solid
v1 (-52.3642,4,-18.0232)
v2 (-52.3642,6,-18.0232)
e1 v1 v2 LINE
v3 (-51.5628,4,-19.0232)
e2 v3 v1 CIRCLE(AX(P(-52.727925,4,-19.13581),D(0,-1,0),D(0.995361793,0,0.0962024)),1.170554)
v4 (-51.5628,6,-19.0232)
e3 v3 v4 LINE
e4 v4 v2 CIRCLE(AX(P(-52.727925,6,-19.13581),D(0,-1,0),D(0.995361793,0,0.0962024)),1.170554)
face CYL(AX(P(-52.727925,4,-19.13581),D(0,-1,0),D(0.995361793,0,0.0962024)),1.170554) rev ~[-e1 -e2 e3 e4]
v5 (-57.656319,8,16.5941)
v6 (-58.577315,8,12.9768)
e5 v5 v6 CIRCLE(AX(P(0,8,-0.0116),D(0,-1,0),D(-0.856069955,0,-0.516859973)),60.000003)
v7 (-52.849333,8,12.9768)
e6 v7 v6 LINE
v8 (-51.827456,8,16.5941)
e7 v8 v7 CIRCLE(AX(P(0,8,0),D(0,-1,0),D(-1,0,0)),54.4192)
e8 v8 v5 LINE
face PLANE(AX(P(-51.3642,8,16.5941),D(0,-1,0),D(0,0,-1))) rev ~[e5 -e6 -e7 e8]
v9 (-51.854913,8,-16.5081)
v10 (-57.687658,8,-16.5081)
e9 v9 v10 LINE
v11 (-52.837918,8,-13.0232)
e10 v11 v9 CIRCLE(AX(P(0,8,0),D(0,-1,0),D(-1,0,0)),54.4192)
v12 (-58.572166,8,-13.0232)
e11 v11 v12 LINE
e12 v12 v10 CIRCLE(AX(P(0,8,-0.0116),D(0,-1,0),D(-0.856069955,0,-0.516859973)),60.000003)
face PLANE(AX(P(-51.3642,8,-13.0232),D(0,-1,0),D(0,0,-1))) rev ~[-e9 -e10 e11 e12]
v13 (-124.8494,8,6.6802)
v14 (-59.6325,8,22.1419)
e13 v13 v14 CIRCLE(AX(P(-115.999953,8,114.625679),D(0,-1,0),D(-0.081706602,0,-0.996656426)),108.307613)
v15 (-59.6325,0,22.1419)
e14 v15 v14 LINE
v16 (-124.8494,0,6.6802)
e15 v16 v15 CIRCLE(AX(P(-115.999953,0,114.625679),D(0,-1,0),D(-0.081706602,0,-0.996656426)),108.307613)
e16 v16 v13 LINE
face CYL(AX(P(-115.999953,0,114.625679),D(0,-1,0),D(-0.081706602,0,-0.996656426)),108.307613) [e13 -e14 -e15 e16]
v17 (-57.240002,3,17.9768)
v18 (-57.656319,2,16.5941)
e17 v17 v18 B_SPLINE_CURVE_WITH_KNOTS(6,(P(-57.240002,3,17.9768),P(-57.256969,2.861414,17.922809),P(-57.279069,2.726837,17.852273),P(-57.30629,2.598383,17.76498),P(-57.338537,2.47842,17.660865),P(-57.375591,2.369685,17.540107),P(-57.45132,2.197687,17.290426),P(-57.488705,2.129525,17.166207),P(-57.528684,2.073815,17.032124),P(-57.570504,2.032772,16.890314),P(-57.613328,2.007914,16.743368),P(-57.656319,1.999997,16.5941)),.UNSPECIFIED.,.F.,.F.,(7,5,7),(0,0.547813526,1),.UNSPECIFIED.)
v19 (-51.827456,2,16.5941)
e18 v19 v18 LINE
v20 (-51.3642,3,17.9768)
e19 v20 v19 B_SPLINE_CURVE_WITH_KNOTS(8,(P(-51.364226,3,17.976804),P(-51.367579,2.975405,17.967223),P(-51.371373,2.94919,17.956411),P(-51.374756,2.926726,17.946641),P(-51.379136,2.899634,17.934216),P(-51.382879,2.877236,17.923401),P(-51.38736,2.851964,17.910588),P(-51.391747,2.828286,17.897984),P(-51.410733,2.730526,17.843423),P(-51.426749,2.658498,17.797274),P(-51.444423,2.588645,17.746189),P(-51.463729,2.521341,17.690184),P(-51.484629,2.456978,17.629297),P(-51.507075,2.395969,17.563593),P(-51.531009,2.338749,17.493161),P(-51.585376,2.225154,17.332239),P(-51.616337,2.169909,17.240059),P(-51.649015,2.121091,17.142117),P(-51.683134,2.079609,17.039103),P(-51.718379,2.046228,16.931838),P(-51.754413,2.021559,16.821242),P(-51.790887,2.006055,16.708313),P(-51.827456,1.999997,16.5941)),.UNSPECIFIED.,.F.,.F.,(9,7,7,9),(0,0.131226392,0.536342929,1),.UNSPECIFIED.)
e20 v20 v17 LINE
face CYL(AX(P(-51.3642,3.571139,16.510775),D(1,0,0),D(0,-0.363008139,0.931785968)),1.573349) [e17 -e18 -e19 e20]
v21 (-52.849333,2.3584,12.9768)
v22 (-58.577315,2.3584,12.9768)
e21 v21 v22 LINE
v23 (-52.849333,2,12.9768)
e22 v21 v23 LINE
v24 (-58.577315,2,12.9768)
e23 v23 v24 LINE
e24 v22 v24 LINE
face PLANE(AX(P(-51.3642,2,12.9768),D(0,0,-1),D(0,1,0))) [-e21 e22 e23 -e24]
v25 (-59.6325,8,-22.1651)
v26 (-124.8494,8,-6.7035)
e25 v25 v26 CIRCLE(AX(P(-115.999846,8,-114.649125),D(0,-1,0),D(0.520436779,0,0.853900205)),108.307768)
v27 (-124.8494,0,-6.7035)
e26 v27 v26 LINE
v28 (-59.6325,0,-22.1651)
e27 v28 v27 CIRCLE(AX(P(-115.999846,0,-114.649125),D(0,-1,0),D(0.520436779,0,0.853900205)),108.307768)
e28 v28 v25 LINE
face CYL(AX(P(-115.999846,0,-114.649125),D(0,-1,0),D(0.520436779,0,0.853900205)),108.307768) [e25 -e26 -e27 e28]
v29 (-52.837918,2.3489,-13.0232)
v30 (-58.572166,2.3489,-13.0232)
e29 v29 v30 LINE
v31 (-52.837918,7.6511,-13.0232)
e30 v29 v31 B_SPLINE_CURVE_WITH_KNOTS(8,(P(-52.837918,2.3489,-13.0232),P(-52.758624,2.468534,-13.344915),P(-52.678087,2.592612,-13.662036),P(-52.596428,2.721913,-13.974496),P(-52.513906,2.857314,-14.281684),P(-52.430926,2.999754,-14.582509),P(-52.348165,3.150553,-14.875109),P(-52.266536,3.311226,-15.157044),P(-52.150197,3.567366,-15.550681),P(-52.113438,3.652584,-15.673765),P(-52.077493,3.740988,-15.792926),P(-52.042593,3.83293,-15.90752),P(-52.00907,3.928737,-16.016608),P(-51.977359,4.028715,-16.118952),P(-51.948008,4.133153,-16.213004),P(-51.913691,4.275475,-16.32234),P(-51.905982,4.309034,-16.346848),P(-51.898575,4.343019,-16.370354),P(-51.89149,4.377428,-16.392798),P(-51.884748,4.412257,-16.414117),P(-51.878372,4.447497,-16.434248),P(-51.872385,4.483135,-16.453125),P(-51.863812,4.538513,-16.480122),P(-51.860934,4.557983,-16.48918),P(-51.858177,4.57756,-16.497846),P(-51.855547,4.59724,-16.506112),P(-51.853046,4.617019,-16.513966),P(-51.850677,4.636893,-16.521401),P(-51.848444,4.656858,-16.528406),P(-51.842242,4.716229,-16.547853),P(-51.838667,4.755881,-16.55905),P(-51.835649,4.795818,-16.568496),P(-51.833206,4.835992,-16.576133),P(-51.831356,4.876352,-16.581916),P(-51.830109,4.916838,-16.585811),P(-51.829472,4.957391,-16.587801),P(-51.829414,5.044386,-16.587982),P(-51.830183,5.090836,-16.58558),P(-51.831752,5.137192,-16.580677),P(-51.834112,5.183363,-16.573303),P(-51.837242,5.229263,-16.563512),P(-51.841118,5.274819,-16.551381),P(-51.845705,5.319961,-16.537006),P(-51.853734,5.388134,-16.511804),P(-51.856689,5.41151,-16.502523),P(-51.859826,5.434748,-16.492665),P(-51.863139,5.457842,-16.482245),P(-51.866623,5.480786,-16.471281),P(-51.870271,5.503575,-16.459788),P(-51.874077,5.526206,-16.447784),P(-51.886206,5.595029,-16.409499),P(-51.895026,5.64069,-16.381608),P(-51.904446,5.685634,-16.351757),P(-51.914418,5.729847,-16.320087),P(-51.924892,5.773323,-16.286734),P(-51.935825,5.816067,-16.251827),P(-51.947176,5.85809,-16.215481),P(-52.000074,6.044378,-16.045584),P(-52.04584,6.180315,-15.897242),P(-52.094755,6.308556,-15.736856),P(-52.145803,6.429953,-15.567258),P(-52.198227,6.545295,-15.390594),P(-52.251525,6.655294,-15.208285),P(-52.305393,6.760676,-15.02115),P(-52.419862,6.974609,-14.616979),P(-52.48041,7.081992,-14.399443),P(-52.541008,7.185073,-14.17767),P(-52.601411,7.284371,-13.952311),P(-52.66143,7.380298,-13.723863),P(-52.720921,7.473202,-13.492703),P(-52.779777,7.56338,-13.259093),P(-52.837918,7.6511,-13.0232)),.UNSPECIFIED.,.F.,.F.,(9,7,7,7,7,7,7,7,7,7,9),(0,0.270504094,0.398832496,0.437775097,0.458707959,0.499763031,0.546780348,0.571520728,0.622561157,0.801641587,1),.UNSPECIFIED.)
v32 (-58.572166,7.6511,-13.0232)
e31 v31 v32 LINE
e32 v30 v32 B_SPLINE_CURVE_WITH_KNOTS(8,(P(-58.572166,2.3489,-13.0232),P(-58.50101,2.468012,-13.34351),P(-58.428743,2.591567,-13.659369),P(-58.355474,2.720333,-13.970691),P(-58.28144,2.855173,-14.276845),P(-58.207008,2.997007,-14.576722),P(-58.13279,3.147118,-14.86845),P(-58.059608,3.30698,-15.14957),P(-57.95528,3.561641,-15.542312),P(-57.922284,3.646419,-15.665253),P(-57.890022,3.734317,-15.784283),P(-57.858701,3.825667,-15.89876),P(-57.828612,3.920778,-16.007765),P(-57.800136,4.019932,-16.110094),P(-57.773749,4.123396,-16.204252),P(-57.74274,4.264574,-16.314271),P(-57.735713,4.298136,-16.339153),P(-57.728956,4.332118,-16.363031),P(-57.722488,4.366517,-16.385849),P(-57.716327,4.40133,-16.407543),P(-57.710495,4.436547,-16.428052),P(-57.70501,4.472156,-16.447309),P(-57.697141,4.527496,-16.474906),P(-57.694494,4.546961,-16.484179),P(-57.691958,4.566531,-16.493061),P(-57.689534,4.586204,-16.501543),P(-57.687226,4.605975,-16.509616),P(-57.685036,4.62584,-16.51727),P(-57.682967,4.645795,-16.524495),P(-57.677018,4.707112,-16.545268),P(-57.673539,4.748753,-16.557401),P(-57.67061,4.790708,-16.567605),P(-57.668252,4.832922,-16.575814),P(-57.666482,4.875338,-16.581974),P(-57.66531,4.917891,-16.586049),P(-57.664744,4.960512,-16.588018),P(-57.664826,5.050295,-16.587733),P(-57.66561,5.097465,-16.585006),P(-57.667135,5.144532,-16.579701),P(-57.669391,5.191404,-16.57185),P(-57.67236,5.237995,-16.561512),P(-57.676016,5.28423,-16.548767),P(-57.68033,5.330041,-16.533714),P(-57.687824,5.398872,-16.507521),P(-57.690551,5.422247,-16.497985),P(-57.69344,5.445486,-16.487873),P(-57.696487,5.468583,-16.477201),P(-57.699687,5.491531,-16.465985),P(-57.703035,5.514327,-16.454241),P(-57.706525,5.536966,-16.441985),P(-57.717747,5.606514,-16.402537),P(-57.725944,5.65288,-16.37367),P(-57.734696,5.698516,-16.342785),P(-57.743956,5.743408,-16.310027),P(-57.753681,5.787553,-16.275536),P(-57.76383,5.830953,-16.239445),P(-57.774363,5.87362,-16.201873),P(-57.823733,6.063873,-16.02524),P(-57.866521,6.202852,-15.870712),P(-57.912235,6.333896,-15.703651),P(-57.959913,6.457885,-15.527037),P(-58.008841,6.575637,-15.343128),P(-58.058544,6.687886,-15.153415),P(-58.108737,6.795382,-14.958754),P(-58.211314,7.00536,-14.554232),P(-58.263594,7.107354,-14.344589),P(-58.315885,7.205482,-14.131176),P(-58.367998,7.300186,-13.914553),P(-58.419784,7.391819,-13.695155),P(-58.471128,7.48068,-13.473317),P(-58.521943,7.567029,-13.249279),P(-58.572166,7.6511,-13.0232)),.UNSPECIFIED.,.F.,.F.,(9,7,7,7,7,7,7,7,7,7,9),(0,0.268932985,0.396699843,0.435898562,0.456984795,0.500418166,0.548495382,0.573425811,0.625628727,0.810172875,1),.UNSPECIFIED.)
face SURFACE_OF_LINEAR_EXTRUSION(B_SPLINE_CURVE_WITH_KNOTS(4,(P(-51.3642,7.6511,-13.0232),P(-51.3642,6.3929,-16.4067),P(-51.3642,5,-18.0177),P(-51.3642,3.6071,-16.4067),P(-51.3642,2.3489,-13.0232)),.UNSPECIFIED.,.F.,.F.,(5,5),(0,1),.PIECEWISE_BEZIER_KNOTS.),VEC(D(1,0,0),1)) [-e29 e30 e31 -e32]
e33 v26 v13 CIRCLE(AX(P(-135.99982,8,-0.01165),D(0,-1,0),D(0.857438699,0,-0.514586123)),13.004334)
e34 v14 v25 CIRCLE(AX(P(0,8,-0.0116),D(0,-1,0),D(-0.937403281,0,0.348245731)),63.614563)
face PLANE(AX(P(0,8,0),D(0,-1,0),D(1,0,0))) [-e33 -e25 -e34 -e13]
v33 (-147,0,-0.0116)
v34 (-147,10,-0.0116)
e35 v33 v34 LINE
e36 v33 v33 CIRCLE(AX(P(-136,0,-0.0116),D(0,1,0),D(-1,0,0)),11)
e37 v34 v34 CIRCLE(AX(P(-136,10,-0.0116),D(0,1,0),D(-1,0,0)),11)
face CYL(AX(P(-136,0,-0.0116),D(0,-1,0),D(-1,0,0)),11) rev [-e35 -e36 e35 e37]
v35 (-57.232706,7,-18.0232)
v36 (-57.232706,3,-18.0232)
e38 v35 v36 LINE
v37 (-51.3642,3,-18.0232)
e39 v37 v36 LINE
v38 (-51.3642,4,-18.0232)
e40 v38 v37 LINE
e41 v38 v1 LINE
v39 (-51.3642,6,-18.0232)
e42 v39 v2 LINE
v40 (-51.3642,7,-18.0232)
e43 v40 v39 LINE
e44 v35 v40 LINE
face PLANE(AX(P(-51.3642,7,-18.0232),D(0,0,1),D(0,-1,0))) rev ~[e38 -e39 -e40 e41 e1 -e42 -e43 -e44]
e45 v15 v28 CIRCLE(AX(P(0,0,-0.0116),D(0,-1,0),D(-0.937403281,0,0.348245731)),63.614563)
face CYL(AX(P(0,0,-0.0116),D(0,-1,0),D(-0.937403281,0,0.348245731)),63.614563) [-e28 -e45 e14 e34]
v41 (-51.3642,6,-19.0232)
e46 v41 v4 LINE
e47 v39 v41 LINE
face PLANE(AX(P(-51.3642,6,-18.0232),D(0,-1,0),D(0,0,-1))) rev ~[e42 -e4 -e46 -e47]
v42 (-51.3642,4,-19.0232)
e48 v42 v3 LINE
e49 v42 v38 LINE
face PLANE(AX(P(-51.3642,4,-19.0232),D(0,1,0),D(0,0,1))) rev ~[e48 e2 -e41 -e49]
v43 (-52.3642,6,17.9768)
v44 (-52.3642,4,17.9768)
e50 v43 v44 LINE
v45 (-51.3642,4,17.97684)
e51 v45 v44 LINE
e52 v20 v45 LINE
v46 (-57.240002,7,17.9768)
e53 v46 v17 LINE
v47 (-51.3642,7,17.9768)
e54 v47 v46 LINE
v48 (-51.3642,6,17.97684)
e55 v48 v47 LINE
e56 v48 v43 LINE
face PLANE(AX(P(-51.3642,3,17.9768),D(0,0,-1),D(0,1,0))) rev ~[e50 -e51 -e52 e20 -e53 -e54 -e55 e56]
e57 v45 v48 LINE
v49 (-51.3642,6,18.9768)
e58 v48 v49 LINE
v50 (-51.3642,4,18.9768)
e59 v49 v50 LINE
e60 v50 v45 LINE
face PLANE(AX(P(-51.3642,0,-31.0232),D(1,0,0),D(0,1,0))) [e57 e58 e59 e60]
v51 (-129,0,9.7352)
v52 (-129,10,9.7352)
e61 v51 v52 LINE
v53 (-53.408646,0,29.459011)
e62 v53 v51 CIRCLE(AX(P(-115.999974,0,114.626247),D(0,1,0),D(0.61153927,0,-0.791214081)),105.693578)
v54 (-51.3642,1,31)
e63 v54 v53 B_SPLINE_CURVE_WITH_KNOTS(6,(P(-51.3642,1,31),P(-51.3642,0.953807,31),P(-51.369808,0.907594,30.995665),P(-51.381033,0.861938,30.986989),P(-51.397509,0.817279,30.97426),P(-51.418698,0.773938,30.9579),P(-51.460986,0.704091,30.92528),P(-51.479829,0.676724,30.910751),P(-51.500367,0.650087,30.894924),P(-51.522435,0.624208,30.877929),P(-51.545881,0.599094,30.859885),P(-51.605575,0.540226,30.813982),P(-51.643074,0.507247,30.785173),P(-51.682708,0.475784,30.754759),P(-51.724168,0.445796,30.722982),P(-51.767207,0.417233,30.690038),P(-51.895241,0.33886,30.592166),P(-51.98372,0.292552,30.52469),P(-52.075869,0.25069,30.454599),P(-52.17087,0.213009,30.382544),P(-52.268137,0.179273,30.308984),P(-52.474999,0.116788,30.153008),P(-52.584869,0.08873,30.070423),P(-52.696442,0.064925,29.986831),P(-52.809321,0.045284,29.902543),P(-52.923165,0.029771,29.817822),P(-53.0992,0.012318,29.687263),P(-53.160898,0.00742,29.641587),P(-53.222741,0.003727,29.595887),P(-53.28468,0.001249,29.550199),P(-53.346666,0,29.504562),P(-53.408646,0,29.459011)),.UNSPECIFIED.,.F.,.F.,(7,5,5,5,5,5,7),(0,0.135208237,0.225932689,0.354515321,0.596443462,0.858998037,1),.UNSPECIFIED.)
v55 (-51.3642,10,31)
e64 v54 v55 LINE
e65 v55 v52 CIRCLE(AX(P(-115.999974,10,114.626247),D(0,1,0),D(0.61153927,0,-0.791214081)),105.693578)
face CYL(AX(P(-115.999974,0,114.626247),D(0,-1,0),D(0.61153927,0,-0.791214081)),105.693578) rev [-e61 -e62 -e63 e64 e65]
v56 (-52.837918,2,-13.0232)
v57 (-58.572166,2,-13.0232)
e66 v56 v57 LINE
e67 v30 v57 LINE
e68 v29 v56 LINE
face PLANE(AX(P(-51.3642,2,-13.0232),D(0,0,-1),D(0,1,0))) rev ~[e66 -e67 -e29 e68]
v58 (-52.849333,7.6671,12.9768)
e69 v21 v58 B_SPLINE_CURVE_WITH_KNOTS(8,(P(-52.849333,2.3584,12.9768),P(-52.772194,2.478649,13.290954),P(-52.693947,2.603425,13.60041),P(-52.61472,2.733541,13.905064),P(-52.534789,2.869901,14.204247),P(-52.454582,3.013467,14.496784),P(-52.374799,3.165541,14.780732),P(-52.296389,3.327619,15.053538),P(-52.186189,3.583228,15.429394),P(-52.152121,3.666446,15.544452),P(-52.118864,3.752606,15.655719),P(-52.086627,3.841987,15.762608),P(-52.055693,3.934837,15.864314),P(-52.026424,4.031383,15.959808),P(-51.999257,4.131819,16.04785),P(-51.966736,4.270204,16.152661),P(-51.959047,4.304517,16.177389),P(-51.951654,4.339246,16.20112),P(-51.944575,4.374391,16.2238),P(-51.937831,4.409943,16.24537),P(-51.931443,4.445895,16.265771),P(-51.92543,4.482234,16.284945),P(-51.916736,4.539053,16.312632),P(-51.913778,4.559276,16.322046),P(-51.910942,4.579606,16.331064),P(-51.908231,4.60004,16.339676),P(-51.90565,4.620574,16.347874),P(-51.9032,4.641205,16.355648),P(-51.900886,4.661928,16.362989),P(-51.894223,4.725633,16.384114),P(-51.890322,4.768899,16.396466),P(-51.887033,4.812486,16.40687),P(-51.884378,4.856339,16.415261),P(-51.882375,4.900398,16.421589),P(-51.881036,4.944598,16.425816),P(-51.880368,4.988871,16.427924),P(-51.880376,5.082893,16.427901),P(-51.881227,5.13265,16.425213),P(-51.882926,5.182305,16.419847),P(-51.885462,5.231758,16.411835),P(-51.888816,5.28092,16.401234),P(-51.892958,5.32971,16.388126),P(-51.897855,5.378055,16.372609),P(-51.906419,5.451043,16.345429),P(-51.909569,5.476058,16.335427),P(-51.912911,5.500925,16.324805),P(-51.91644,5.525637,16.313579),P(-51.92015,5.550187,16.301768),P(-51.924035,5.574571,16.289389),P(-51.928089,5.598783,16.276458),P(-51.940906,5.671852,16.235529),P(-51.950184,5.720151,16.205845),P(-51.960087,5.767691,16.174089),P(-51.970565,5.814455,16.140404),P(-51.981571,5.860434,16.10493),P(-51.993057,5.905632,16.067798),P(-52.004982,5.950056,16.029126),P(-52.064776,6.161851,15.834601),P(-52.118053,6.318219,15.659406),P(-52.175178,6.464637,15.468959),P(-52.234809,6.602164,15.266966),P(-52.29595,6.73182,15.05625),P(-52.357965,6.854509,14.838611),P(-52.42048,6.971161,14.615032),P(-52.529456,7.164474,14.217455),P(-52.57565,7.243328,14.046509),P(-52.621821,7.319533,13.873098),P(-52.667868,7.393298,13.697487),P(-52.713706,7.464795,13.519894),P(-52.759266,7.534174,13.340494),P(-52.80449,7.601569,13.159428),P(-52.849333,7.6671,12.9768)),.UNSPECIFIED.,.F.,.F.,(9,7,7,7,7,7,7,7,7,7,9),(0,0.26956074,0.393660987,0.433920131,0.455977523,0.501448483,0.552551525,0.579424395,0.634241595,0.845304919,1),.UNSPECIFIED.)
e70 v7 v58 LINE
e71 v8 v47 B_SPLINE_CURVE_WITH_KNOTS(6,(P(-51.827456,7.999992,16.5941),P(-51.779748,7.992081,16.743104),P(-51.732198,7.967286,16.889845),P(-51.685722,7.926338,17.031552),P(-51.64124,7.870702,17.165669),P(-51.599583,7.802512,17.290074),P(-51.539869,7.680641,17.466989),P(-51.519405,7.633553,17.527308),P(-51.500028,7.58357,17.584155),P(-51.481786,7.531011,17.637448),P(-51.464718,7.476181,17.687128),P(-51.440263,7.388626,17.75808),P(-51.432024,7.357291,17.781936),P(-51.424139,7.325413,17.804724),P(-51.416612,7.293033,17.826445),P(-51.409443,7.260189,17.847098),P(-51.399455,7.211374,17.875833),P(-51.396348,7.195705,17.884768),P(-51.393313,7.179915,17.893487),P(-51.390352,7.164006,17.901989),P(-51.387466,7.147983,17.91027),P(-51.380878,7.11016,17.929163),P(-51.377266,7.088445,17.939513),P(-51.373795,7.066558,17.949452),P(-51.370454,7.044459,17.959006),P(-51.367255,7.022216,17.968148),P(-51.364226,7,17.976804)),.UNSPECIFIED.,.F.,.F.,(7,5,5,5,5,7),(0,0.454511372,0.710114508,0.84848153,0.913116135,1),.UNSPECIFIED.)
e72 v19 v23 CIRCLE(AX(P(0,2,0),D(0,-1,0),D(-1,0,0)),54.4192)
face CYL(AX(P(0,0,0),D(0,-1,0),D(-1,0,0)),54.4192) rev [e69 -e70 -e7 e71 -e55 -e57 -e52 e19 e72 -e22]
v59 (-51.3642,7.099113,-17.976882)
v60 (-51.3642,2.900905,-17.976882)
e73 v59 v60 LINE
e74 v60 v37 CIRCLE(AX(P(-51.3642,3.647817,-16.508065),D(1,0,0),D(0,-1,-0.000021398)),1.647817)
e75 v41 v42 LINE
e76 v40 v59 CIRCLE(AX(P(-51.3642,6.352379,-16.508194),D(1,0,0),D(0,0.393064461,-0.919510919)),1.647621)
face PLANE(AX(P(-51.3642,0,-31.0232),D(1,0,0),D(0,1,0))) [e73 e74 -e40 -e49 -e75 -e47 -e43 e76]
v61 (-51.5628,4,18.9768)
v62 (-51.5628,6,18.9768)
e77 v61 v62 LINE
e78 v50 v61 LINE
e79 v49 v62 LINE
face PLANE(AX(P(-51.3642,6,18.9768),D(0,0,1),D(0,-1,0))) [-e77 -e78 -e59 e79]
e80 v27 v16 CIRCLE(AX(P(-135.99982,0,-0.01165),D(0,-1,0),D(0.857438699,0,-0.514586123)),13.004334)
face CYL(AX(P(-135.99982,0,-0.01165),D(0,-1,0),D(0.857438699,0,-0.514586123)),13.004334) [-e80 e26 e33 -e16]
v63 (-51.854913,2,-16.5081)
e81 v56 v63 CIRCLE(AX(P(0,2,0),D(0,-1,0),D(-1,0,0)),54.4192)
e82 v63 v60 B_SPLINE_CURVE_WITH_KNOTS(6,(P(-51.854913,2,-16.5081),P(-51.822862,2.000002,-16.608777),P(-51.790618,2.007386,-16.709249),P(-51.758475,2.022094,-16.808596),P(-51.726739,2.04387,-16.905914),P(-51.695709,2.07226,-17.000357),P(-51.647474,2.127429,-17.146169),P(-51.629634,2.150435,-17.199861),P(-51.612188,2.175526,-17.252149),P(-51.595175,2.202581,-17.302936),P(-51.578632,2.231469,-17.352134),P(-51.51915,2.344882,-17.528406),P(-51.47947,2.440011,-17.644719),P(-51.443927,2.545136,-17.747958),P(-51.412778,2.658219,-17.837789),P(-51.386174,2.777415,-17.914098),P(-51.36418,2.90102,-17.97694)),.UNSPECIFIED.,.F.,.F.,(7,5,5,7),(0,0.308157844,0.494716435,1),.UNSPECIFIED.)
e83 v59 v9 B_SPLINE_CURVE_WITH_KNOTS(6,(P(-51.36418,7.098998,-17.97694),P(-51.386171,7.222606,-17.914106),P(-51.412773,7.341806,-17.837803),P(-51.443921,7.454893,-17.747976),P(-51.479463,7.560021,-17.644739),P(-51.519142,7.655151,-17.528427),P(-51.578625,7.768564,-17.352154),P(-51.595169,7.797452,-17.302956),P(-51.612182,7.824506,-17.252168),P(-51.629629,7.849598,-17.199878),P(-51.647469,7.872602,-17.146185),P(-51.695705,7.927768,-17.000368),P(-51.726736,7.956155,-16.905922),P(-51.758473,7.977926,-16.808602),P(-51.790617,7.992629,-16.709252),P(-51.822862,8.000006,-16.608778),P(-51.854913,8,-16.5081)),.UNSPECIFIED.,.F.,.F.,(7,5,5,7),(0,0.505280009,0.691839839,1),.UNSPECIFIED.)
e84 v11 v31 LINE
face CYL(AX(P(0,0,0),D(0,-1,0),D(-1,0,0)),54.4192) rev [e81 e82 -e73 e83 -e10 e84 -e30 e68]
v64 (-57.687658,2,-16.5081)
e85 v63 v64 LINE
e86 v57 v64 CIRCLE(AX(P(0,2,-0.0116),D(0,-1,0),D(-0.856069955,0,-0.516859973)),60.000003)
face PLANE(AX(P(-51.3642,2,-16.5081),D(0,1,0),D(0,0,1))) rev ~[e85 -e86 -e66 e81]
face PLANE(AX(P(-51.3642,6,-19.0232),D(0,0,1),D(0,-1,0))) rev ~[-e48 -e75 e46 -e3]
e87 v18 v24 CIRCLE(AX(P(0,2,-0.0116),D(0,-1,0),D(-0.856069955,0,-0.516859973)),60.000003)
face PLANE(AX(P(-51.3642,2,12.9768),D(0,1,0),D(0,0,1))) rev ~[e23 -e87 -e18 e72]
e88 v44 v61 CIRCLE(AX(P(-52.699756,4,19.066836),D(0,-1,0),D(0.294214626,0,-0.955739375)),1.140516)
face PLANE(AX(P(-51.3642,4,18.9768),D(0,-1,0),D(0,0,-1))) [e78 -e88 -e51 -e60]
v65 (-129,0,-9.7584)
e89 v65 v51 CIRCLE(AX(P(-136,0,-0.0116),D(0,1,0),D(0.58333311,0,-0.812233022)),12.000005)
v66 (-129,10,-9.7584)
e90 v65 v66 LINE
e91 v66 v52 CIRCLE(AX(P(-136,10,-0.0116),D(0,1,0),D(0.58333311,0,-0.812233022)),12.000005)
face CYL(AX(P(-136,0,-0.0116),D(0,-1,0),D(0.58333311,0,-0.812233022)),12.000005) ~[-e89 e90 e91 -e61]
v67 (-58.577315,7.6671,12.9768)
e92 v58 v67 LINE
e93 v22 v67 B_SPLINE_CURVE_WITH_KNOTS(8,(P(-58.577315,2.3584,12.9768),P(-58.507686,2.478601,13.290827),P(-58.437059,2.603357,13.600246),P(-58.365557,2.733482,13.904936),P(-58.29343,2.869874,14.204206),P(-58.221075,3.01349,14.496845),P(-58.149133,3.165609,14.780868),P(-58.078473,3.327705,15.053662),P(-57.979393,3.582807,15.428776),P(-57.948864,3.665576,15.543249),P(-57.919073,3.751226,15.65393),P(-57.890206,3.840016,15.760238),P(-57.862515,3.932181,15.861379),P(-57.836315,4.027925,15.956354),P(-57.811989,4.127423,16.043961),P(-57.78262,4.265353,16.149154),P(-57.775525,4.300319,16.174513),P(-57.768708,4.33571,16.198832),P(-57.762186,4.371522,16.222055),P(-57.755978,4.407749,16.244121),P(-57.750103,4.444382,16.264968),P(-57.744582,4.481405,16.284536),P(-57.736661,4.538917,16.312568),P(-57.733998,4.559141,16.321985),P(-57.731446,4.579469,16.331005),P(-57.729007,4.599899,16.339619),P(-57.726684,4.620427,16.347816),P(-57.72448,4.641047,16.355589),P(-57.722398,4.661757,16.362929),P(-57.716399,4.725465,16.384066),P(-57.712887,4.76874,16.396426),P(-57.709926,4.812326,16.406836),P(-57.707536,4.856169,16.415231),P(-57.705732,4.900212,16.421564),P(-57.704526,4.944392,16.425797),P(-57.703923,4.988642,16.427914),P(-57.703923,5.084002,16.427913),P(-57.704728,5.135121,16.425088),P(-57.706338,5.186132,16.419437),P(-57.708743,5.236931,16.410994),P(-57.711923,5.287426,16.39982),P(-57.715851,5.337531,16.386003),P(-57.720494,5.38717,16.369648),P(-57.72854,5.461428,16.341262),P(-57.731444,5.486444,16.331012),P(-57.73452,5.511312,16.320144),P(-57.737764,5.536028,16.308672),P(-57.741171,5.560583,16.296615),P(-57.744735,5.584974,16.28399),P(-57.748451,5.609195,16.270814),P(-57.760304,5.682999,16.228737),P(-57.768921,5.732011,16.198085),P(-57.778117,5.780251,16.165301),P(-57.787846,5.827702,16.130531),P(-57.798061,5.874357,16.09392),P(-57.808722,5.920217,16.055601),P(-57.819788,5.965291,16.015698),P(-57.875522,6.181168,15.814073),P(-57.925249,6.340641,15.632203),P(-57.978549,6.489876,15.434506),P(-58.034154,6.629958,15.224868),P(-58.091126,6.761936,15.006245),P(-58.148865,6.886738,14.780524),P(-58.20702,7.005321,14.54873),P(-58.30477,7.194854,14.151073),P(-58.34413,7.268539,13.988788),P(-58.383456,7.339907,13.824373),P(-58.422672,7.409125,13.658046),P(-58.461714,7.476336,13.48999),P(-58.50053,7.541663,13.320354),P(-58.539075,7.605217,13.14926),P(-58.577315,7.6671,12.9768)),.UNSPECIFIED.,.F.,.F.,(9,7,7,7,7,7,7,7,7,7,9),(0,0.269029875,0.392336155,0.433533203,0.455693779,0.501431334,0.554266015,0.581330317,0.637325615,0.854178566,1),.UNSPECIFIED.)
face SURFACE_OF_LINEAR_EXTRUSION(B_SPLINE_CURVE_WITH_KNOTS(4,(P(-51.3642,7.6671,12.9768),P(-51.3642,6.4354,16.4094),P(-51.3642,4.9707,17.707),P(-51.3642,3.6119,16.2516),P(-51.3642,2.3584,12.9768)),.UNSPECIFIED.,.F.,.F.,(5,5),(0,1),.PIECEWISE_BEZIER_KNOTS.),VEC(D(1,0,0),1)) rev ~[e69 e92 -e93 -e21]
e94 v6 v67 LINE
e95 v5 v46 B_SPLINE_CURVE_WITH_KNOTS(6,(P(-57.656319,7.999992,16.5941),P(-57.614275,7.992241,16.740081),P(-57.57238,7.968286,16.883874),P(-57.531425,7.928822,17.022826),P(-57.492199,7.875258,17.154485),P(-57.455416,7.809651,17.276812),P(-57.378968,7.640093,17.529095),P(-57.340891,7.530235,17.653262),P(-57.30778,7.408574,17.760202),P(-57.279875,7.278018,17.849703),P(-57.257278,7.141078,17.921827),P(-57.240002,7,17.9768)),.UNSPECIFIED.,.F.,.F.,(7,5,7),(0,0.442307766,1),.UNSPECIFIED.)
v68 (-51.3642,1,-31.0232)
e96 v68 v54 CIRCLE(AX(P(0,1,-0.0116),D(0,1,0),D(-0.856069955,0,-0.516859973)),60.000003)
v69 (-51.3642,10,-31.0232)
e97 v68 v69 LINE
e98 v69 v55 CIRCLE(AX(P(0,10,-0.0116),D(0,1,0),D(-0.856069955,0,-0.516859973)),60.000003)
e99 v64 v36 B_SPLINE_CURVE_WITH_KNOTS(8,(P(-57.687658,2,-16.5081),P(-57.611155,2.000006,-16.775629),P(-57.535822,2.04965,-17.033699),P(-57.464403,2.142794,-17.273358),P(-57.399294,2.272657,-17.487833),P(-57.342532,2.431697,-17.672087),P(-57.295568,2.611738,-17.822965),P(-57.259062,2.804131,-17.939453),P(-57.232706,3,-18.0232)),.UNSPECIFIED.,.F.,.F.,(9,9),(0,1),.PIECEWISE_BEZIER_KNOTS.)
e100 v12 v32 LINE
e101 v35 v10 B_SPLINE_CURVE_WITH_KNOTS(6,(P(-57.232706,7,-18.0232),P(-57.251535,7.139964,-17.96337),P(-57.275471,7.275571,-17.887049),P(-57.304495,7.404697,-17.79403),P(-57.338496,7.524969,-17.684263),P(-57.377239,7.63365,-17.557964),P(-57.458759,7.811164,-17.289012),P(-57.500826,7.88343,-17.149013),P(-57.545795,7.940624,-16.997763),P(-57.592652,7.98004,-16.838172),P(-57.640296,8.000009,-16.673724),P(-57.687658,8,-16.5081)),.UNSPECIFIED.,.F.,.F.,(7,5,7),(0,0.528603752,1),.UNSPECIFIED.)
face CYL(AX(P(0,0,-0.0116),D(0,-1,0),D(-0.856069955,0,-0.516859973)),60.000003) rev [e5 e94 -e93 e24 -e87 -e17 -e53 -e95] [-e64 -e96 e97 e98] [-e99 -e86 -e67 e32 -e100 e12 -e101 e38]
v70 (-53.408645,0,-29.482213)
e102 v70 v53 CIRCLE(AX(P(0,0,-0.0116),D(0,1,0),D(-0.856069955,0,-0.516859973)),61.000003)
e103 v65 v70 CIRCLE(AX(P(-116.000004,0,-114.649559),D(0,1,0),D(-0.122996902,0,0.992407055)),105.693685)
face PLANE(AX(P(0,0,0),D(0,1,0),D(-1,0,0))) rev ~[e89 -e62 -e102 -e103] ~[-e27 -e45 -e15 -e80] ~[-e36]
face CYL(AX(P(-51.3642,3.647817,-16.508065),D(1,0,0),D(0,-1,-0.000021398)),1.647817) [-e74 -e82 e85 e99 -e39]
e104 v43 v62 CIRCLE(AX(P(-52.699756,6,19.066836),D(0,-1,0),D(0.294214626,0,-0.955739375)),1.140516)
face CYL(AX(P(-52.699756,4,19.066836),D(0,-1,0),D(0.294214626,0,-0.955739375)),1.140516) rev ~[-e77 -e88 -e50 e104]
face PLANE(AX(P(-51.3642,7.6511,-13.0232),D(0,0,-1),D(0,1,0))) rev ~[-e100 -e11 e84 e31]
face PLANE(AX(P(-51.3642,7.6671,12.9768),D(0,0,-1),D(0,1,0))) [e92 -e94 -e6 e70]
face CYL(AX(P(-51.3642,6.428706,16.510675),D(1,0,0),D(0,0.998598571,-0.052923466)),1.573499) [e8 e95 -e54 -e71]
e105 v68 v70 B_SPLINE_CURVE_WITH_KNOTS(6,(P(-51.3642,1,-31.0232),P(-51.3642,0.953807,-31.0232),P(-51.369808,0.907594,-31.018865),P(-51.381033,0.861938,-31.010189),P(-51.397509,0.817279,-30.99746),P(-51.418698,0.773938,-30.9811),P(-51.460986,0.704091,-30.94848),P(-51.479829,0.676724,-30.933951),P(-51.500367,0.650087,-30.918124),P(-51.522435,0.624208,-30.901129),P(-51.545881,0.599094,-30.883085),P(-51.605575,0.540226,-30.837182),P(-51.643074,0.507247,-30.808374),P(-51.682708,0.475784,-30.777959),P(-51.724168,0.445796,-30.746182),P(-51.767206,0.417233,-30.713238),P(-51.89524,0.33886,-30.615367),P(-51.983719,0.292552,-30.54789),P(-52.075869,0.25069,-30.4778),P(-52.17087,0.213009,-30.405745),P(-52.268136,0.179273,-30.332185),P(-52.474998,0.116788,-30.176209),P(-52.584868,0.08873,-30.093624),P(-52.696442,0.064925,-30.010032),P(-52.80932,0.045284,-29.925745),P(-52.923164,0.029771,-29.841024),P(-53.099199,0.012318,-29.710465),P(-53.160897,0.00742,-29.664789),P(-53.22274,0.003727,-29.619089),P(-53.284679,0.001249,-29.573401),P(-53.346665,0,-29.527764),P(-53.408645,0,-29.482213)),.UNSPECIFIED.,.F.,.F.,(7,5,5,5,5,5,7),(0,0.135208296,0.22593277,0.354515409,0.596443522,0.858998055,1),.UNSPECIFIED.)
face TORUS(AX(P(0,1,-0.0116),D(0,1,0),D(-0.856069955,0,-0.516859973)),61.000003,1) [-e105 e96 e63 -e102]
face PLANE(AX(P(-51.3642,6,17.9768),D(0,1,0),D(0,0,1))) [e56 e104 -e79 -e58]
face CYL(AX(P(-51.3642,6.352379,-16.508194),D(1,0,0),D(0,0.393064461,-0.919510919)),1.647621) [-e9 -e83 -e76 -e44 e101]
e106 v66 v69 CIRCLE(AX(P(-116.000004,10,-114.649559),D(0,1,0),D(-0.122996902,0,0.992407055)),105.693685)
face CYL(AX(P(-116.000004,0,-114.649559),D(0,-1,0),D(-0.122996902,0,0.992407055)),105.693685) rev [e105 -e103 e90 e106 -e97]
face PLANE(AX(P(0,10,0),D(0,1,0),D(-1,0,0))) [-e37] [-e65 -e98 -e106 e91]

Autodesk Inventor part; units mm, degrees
ref_plane "YZ Plane" through (0, 0, 0) normal (1, 0, 0) x (0, 1, 0)
ref_plane "XZ Plane" through (0, 0, 0) normal (0, 1, 0) x (-1, 0, 0)
ref_plane "XY Plane" through (0, 0, 0) normal (0, 0, 1) x (1, 0, 0)
sketch "Esquisse1" plane through (0, 0, 0) normal (0, 1, 0) x (-1, 0, 0)
  arc A0 (51.3642, -31.0232) -> (51.3642, 31) centre (0, -0.0116) ccw
  arc A1 (129, -9.7584) -> (129, 9.7352) centre (136, -0.0116) ccw
  arc A2 (51.3642, 31) -> (129, 9.7352) centre (116, 114.6263) ccw
  line L0 (64, -0.0116) -> (129, -0.0116) construction
  arc A3 (129, -9.7584) -> (129, 9.7352) centre (136, -0.0116) ccw
  arc A4 (129, -9.7584) -> (51.3642, -31.0232) centre (116, -114.6495) ccw
  circle A5 centre (136, -0.0116) radius 11
  point P0 (0, 0)
  dimension "d0" = 120
  dimension "d1" = 24
  dimension "d2" = 22
extrude "Extrusion1" add sketch "Esquisse1" along normal blind 10
ref_plane "Plan de construction1" through (-51.3642, 0, -31.0232) normal (1, 0, 0) x (0, 1, 0)
sketch "Esquisse2" plane through (-51.3642, 0, -31.0232) normal (1, 0, 0) x (0, 1, 0)
  line L0 (5, 64.5652) -> (5, -0.1304) construction
  line L1 (3, 49) -> (7, 49)
  line L2 (8, 47.6173) -> (8, 44)
  line L3 (2, 44) -> (2, 47.6173)
  line L4 (2, 49) -> (8, 43) construction
  line L5 (8, 49) -> (2, 43) construction
  line L6 (8, 18) -> (8, 14.5151)
  line L7 (7, 13) -> (3, 13)
  line L8 (2, 14.5151) -> (2, 18)
  line L9 (2, 19) -> (8, 13) construction
  line L10 (8, 19) -> (2, 13) construction
  line L11 (10, 62.0232) -> (10, 0) projected
  line L12 (0, 0) -> (10, 0) projected
  line L13 (0, 62.0232) -> (10, 62.0232) projected
  spline S0 degree 4 poles (7.6671, 44) (6.4354, 47.4326) (4.9707, 48.7302) (3.6119, 47.2748) (2.3584, 44) knots 0 0 0 0 0 1 1 1 1 1
  spline S1 degree 4 poles (7.6511, 18) (6.3929, 14.6165) (5, 13.0055) (3.6071, 14.6165) (2.3489, 18) knots 0 0 0 0 0 1 1 1 1 1
  arc A0 (8, 47.4506) -> (7, 49) centre (6.4288, 47.5339) ccw
  arc A1 (3, 49) -> (2, 47.4506) centre (3.5712, 47.5339) ccw
  arc A2 (7, 13) -> (8, 14.5151) centre (6.3523, 14.5151) ccw
  arc A3 (2, 14.5151) -> (3, 13) centre (3.6477, 14.5151) ccw
  line L14 (2, 18) -> (2.3489, 18)
  line L15 (7.6511, 18) -> (8, 18)
  line L16 (2.776, 16.8516) -> (1.9218, 19.1484) construction
  arc A4 (2.0268, 18.9251) -> (2.7095, 17.0892) centre (24.2353, 26.1386) ccw construction
  line L17 (8.0782, 19.1484) -> (7.224, 16.8516) construction
  arc A5 (7.2905, 17.0892) -> (7.9732, 18.9251) centre (-14.2353, 26.1386) ccw construction
  line L18 (2, 44) -> (2.3584, 44)
  line L19 (7.6671, 44) -> (8, 44)
  line L20 (2.7888, 45.1243) -> (1.9281, 42.8757) construction
  arc A6 (2.7221, 44.891) -> (2.0343, 43.0939) centre (22.8073, 36.1728) ccw construction
  line L21 (8.0877, 42.828) -> (7.2466, 45.172) construction
  arc A7 (7.9784, 43.0548) -> (7.3065, 44.9274) centre (-10.0817, 37.6313) ccw construction
  point P0 (0, 31.0232)
  point P1 (5, 46)
  point P2 (5, 16)
  dimension "d10" = 2
  dimension "d11" = 2
  dimension "d12" = 13
  dimension "d13" = 13.0232
  dimension "d19" = 1
  dimension "d20" = 1
  dimension "d21" = 1
  dimension "d22" = 1
extrude "Extrusion2" add sketch "Esquisse2" against normal blind 10
sketch "Esquisse3" plane through (-51.3642, 8, 16.594) normal (0, 1, 0) x (1, 0, 0)
  point P0 (51.3642, 16.594)
sketch "Esquisse4" plane through (-51.3642, 8, 16.594) normal (0, 1, 0) x (1, 0, 0)
  point P0 (51.3642, 16.594)
ref_plane "Plan de construction7" through (-55.0062, 0, -31.0232) normal (1, 0, 0) x (0, 1, 0)
ref_plane "Plan de construction6" through (-60.1142, 0, -31.0232) normal (1, 0, 0) x (0, 1, 0)
fillet "Congé2" radius 1 1 edges at (-60, 0, -0.0116)
sketch "Esquisse7" plane through (-51.3642, 0, -31.0232) normal (1, 0, 0) x (0, 1, 0)
  line L0 (7, 49) -> (3, 49) projected
  line L1 (4, 49) -> (6, 49)
  line L2 (6, 49) -> (6, 50)
  line L3 (6, 50) -> (4, 50)
  line L4 (4, 50) -> (4, 49)
  line L5 (3, 13) -> (7, 13) projected
  line L6 (4, 13) -> (6, 13)
  line L7 (6, 13) -> (6, 12)
  line L8 (6, 12) -> (4, 12)
  line L9 (4, 12) -> (4, 13)
  point P0 (0, 31.0232)
extrude "Extrusion5" add sketch "Esquisse7" against normal blind 1
ref_plane "Plan de construction8" through (-51.3642, 4, -19.0232) normal (0, -1, 0) x (1, 0, 0)
sketch "Esquisse8" plane through (-51.3642, 4, -19.0232) normal (0, -1, 0) x (1, 0, 0)
  line L0 (-1, 37) -> (-1, 38) projected
  line L1 (0, 37) -> (-1, 37) projected
  line L2 (0, 1) -> (0, 0) projected
  line L3 (-1, 1) -> (-1, 0)
  line L4 (0, 1) -> (-5.8685, 1) projected
  line L5 (0, 38) -> (-1, 38) projected
  line L6 (-1, 37) -> (-1, 38)
  line L7 (-1, 0) -> (-1, 1) projected
  line L8 (0, 0) -> (0, 1) projected
  line L9 (-1, 1) -> (0, 1) projected
  line L10 (-1, 0) -> (-1, 1) projected
  line L11 (0, 0) -> (-1, 0) projected
  line L12 (0, 0) -> (0, 1) projected
  line L13 (-1, 1) -> (0, 1) projected
  line L14 (-1, 0) -> (-1, 1) projected
  line L15 (0, 0) -> (-1, 0) projected
  line L16 (0, 38) -> (0, 37) projected
  line L17 (0, 38) -> (-1, 38) projected
  line L18 (-1, 37) -> (-1, 38) projected
  line L19 (0, 37) -> (-1, 37) projected
  line L20 (0, 0) -> (-1, 0) projected
  line L21 (0, 1) -> (-1, 1) projected
  arc A0 (-0.1986, 0) -> (-1, 1) centre (-1.3637, -0.1126) ccw
  line L22 (0, 38) -> (-1, 38) projected
  arc A1 (-1, 37) -> (-0.1986, 38) centre (-1.3356, 38.0901) ccw
  point P0 (51.3642, 19.0232)
extrude "Extrusion6" cut sketch "Esquisse8" against normal blind 3.25 contours L0 L5 A1 | A0 L11 L3
sketch "Esquisse9" plane through (0, 0, 0) normal (0, 1, 0) x (-1, 0, 0)
  line L0 (51.3642, 17.9768) -> (57.24, 17.9768) projected
  circle A0 centre (0, 0) radius 54.4192
extrude "Extrusion7" cut sketch "Esquisse9" along normal blind 10.25
sketch "Esquisse10" plane through (0, 0, 0) normal (0, -1, 0) x (1, 0, 0)
  arc A0 (-53.4086, 29.459) -> (-53.4086, -29.4822) centre (0, -0.0116) ccw projected
  arc A1 (-129, 9.7352) -> (-53.4086, 29.459) centre (-116, 114.6263) ccw projected
  arc A2 (-129, 9.7352) -> (-129, -9.7584) centre (-136, -0.0116) ccw projected
  arc A3 (-53.4086, -29.4822) -> (-129, -9.7584) centre (-116, -114.6495) ccw projected
  circle A4 centre (-136, -0.0116) radius 11 projected
  arc A5 (-59.6325, 22.1419) -> (-59.6325, -22.1651) centre (0, -0.0116) ccw
  arc A6 (-124.8494, 6.6802) -> (-59.6325, 22.1419) centre (-116, 114.6263) ccw
  arc A7 (-124.8494, -6.7035) -> (-124.8494, 6.6802) centre (-136, -0.0116) ccw
  arc A8 (-59.6325, -22.1651) -> (-124.8494, -6.7035) centre (-116, -114.6495) ccw
  point P0 (0, 0)
extrude "Extrusion8" cut sketch "Esquisse10" against normal blind 8 contours A5 A8 A7 A6
properties part number "Aile"
